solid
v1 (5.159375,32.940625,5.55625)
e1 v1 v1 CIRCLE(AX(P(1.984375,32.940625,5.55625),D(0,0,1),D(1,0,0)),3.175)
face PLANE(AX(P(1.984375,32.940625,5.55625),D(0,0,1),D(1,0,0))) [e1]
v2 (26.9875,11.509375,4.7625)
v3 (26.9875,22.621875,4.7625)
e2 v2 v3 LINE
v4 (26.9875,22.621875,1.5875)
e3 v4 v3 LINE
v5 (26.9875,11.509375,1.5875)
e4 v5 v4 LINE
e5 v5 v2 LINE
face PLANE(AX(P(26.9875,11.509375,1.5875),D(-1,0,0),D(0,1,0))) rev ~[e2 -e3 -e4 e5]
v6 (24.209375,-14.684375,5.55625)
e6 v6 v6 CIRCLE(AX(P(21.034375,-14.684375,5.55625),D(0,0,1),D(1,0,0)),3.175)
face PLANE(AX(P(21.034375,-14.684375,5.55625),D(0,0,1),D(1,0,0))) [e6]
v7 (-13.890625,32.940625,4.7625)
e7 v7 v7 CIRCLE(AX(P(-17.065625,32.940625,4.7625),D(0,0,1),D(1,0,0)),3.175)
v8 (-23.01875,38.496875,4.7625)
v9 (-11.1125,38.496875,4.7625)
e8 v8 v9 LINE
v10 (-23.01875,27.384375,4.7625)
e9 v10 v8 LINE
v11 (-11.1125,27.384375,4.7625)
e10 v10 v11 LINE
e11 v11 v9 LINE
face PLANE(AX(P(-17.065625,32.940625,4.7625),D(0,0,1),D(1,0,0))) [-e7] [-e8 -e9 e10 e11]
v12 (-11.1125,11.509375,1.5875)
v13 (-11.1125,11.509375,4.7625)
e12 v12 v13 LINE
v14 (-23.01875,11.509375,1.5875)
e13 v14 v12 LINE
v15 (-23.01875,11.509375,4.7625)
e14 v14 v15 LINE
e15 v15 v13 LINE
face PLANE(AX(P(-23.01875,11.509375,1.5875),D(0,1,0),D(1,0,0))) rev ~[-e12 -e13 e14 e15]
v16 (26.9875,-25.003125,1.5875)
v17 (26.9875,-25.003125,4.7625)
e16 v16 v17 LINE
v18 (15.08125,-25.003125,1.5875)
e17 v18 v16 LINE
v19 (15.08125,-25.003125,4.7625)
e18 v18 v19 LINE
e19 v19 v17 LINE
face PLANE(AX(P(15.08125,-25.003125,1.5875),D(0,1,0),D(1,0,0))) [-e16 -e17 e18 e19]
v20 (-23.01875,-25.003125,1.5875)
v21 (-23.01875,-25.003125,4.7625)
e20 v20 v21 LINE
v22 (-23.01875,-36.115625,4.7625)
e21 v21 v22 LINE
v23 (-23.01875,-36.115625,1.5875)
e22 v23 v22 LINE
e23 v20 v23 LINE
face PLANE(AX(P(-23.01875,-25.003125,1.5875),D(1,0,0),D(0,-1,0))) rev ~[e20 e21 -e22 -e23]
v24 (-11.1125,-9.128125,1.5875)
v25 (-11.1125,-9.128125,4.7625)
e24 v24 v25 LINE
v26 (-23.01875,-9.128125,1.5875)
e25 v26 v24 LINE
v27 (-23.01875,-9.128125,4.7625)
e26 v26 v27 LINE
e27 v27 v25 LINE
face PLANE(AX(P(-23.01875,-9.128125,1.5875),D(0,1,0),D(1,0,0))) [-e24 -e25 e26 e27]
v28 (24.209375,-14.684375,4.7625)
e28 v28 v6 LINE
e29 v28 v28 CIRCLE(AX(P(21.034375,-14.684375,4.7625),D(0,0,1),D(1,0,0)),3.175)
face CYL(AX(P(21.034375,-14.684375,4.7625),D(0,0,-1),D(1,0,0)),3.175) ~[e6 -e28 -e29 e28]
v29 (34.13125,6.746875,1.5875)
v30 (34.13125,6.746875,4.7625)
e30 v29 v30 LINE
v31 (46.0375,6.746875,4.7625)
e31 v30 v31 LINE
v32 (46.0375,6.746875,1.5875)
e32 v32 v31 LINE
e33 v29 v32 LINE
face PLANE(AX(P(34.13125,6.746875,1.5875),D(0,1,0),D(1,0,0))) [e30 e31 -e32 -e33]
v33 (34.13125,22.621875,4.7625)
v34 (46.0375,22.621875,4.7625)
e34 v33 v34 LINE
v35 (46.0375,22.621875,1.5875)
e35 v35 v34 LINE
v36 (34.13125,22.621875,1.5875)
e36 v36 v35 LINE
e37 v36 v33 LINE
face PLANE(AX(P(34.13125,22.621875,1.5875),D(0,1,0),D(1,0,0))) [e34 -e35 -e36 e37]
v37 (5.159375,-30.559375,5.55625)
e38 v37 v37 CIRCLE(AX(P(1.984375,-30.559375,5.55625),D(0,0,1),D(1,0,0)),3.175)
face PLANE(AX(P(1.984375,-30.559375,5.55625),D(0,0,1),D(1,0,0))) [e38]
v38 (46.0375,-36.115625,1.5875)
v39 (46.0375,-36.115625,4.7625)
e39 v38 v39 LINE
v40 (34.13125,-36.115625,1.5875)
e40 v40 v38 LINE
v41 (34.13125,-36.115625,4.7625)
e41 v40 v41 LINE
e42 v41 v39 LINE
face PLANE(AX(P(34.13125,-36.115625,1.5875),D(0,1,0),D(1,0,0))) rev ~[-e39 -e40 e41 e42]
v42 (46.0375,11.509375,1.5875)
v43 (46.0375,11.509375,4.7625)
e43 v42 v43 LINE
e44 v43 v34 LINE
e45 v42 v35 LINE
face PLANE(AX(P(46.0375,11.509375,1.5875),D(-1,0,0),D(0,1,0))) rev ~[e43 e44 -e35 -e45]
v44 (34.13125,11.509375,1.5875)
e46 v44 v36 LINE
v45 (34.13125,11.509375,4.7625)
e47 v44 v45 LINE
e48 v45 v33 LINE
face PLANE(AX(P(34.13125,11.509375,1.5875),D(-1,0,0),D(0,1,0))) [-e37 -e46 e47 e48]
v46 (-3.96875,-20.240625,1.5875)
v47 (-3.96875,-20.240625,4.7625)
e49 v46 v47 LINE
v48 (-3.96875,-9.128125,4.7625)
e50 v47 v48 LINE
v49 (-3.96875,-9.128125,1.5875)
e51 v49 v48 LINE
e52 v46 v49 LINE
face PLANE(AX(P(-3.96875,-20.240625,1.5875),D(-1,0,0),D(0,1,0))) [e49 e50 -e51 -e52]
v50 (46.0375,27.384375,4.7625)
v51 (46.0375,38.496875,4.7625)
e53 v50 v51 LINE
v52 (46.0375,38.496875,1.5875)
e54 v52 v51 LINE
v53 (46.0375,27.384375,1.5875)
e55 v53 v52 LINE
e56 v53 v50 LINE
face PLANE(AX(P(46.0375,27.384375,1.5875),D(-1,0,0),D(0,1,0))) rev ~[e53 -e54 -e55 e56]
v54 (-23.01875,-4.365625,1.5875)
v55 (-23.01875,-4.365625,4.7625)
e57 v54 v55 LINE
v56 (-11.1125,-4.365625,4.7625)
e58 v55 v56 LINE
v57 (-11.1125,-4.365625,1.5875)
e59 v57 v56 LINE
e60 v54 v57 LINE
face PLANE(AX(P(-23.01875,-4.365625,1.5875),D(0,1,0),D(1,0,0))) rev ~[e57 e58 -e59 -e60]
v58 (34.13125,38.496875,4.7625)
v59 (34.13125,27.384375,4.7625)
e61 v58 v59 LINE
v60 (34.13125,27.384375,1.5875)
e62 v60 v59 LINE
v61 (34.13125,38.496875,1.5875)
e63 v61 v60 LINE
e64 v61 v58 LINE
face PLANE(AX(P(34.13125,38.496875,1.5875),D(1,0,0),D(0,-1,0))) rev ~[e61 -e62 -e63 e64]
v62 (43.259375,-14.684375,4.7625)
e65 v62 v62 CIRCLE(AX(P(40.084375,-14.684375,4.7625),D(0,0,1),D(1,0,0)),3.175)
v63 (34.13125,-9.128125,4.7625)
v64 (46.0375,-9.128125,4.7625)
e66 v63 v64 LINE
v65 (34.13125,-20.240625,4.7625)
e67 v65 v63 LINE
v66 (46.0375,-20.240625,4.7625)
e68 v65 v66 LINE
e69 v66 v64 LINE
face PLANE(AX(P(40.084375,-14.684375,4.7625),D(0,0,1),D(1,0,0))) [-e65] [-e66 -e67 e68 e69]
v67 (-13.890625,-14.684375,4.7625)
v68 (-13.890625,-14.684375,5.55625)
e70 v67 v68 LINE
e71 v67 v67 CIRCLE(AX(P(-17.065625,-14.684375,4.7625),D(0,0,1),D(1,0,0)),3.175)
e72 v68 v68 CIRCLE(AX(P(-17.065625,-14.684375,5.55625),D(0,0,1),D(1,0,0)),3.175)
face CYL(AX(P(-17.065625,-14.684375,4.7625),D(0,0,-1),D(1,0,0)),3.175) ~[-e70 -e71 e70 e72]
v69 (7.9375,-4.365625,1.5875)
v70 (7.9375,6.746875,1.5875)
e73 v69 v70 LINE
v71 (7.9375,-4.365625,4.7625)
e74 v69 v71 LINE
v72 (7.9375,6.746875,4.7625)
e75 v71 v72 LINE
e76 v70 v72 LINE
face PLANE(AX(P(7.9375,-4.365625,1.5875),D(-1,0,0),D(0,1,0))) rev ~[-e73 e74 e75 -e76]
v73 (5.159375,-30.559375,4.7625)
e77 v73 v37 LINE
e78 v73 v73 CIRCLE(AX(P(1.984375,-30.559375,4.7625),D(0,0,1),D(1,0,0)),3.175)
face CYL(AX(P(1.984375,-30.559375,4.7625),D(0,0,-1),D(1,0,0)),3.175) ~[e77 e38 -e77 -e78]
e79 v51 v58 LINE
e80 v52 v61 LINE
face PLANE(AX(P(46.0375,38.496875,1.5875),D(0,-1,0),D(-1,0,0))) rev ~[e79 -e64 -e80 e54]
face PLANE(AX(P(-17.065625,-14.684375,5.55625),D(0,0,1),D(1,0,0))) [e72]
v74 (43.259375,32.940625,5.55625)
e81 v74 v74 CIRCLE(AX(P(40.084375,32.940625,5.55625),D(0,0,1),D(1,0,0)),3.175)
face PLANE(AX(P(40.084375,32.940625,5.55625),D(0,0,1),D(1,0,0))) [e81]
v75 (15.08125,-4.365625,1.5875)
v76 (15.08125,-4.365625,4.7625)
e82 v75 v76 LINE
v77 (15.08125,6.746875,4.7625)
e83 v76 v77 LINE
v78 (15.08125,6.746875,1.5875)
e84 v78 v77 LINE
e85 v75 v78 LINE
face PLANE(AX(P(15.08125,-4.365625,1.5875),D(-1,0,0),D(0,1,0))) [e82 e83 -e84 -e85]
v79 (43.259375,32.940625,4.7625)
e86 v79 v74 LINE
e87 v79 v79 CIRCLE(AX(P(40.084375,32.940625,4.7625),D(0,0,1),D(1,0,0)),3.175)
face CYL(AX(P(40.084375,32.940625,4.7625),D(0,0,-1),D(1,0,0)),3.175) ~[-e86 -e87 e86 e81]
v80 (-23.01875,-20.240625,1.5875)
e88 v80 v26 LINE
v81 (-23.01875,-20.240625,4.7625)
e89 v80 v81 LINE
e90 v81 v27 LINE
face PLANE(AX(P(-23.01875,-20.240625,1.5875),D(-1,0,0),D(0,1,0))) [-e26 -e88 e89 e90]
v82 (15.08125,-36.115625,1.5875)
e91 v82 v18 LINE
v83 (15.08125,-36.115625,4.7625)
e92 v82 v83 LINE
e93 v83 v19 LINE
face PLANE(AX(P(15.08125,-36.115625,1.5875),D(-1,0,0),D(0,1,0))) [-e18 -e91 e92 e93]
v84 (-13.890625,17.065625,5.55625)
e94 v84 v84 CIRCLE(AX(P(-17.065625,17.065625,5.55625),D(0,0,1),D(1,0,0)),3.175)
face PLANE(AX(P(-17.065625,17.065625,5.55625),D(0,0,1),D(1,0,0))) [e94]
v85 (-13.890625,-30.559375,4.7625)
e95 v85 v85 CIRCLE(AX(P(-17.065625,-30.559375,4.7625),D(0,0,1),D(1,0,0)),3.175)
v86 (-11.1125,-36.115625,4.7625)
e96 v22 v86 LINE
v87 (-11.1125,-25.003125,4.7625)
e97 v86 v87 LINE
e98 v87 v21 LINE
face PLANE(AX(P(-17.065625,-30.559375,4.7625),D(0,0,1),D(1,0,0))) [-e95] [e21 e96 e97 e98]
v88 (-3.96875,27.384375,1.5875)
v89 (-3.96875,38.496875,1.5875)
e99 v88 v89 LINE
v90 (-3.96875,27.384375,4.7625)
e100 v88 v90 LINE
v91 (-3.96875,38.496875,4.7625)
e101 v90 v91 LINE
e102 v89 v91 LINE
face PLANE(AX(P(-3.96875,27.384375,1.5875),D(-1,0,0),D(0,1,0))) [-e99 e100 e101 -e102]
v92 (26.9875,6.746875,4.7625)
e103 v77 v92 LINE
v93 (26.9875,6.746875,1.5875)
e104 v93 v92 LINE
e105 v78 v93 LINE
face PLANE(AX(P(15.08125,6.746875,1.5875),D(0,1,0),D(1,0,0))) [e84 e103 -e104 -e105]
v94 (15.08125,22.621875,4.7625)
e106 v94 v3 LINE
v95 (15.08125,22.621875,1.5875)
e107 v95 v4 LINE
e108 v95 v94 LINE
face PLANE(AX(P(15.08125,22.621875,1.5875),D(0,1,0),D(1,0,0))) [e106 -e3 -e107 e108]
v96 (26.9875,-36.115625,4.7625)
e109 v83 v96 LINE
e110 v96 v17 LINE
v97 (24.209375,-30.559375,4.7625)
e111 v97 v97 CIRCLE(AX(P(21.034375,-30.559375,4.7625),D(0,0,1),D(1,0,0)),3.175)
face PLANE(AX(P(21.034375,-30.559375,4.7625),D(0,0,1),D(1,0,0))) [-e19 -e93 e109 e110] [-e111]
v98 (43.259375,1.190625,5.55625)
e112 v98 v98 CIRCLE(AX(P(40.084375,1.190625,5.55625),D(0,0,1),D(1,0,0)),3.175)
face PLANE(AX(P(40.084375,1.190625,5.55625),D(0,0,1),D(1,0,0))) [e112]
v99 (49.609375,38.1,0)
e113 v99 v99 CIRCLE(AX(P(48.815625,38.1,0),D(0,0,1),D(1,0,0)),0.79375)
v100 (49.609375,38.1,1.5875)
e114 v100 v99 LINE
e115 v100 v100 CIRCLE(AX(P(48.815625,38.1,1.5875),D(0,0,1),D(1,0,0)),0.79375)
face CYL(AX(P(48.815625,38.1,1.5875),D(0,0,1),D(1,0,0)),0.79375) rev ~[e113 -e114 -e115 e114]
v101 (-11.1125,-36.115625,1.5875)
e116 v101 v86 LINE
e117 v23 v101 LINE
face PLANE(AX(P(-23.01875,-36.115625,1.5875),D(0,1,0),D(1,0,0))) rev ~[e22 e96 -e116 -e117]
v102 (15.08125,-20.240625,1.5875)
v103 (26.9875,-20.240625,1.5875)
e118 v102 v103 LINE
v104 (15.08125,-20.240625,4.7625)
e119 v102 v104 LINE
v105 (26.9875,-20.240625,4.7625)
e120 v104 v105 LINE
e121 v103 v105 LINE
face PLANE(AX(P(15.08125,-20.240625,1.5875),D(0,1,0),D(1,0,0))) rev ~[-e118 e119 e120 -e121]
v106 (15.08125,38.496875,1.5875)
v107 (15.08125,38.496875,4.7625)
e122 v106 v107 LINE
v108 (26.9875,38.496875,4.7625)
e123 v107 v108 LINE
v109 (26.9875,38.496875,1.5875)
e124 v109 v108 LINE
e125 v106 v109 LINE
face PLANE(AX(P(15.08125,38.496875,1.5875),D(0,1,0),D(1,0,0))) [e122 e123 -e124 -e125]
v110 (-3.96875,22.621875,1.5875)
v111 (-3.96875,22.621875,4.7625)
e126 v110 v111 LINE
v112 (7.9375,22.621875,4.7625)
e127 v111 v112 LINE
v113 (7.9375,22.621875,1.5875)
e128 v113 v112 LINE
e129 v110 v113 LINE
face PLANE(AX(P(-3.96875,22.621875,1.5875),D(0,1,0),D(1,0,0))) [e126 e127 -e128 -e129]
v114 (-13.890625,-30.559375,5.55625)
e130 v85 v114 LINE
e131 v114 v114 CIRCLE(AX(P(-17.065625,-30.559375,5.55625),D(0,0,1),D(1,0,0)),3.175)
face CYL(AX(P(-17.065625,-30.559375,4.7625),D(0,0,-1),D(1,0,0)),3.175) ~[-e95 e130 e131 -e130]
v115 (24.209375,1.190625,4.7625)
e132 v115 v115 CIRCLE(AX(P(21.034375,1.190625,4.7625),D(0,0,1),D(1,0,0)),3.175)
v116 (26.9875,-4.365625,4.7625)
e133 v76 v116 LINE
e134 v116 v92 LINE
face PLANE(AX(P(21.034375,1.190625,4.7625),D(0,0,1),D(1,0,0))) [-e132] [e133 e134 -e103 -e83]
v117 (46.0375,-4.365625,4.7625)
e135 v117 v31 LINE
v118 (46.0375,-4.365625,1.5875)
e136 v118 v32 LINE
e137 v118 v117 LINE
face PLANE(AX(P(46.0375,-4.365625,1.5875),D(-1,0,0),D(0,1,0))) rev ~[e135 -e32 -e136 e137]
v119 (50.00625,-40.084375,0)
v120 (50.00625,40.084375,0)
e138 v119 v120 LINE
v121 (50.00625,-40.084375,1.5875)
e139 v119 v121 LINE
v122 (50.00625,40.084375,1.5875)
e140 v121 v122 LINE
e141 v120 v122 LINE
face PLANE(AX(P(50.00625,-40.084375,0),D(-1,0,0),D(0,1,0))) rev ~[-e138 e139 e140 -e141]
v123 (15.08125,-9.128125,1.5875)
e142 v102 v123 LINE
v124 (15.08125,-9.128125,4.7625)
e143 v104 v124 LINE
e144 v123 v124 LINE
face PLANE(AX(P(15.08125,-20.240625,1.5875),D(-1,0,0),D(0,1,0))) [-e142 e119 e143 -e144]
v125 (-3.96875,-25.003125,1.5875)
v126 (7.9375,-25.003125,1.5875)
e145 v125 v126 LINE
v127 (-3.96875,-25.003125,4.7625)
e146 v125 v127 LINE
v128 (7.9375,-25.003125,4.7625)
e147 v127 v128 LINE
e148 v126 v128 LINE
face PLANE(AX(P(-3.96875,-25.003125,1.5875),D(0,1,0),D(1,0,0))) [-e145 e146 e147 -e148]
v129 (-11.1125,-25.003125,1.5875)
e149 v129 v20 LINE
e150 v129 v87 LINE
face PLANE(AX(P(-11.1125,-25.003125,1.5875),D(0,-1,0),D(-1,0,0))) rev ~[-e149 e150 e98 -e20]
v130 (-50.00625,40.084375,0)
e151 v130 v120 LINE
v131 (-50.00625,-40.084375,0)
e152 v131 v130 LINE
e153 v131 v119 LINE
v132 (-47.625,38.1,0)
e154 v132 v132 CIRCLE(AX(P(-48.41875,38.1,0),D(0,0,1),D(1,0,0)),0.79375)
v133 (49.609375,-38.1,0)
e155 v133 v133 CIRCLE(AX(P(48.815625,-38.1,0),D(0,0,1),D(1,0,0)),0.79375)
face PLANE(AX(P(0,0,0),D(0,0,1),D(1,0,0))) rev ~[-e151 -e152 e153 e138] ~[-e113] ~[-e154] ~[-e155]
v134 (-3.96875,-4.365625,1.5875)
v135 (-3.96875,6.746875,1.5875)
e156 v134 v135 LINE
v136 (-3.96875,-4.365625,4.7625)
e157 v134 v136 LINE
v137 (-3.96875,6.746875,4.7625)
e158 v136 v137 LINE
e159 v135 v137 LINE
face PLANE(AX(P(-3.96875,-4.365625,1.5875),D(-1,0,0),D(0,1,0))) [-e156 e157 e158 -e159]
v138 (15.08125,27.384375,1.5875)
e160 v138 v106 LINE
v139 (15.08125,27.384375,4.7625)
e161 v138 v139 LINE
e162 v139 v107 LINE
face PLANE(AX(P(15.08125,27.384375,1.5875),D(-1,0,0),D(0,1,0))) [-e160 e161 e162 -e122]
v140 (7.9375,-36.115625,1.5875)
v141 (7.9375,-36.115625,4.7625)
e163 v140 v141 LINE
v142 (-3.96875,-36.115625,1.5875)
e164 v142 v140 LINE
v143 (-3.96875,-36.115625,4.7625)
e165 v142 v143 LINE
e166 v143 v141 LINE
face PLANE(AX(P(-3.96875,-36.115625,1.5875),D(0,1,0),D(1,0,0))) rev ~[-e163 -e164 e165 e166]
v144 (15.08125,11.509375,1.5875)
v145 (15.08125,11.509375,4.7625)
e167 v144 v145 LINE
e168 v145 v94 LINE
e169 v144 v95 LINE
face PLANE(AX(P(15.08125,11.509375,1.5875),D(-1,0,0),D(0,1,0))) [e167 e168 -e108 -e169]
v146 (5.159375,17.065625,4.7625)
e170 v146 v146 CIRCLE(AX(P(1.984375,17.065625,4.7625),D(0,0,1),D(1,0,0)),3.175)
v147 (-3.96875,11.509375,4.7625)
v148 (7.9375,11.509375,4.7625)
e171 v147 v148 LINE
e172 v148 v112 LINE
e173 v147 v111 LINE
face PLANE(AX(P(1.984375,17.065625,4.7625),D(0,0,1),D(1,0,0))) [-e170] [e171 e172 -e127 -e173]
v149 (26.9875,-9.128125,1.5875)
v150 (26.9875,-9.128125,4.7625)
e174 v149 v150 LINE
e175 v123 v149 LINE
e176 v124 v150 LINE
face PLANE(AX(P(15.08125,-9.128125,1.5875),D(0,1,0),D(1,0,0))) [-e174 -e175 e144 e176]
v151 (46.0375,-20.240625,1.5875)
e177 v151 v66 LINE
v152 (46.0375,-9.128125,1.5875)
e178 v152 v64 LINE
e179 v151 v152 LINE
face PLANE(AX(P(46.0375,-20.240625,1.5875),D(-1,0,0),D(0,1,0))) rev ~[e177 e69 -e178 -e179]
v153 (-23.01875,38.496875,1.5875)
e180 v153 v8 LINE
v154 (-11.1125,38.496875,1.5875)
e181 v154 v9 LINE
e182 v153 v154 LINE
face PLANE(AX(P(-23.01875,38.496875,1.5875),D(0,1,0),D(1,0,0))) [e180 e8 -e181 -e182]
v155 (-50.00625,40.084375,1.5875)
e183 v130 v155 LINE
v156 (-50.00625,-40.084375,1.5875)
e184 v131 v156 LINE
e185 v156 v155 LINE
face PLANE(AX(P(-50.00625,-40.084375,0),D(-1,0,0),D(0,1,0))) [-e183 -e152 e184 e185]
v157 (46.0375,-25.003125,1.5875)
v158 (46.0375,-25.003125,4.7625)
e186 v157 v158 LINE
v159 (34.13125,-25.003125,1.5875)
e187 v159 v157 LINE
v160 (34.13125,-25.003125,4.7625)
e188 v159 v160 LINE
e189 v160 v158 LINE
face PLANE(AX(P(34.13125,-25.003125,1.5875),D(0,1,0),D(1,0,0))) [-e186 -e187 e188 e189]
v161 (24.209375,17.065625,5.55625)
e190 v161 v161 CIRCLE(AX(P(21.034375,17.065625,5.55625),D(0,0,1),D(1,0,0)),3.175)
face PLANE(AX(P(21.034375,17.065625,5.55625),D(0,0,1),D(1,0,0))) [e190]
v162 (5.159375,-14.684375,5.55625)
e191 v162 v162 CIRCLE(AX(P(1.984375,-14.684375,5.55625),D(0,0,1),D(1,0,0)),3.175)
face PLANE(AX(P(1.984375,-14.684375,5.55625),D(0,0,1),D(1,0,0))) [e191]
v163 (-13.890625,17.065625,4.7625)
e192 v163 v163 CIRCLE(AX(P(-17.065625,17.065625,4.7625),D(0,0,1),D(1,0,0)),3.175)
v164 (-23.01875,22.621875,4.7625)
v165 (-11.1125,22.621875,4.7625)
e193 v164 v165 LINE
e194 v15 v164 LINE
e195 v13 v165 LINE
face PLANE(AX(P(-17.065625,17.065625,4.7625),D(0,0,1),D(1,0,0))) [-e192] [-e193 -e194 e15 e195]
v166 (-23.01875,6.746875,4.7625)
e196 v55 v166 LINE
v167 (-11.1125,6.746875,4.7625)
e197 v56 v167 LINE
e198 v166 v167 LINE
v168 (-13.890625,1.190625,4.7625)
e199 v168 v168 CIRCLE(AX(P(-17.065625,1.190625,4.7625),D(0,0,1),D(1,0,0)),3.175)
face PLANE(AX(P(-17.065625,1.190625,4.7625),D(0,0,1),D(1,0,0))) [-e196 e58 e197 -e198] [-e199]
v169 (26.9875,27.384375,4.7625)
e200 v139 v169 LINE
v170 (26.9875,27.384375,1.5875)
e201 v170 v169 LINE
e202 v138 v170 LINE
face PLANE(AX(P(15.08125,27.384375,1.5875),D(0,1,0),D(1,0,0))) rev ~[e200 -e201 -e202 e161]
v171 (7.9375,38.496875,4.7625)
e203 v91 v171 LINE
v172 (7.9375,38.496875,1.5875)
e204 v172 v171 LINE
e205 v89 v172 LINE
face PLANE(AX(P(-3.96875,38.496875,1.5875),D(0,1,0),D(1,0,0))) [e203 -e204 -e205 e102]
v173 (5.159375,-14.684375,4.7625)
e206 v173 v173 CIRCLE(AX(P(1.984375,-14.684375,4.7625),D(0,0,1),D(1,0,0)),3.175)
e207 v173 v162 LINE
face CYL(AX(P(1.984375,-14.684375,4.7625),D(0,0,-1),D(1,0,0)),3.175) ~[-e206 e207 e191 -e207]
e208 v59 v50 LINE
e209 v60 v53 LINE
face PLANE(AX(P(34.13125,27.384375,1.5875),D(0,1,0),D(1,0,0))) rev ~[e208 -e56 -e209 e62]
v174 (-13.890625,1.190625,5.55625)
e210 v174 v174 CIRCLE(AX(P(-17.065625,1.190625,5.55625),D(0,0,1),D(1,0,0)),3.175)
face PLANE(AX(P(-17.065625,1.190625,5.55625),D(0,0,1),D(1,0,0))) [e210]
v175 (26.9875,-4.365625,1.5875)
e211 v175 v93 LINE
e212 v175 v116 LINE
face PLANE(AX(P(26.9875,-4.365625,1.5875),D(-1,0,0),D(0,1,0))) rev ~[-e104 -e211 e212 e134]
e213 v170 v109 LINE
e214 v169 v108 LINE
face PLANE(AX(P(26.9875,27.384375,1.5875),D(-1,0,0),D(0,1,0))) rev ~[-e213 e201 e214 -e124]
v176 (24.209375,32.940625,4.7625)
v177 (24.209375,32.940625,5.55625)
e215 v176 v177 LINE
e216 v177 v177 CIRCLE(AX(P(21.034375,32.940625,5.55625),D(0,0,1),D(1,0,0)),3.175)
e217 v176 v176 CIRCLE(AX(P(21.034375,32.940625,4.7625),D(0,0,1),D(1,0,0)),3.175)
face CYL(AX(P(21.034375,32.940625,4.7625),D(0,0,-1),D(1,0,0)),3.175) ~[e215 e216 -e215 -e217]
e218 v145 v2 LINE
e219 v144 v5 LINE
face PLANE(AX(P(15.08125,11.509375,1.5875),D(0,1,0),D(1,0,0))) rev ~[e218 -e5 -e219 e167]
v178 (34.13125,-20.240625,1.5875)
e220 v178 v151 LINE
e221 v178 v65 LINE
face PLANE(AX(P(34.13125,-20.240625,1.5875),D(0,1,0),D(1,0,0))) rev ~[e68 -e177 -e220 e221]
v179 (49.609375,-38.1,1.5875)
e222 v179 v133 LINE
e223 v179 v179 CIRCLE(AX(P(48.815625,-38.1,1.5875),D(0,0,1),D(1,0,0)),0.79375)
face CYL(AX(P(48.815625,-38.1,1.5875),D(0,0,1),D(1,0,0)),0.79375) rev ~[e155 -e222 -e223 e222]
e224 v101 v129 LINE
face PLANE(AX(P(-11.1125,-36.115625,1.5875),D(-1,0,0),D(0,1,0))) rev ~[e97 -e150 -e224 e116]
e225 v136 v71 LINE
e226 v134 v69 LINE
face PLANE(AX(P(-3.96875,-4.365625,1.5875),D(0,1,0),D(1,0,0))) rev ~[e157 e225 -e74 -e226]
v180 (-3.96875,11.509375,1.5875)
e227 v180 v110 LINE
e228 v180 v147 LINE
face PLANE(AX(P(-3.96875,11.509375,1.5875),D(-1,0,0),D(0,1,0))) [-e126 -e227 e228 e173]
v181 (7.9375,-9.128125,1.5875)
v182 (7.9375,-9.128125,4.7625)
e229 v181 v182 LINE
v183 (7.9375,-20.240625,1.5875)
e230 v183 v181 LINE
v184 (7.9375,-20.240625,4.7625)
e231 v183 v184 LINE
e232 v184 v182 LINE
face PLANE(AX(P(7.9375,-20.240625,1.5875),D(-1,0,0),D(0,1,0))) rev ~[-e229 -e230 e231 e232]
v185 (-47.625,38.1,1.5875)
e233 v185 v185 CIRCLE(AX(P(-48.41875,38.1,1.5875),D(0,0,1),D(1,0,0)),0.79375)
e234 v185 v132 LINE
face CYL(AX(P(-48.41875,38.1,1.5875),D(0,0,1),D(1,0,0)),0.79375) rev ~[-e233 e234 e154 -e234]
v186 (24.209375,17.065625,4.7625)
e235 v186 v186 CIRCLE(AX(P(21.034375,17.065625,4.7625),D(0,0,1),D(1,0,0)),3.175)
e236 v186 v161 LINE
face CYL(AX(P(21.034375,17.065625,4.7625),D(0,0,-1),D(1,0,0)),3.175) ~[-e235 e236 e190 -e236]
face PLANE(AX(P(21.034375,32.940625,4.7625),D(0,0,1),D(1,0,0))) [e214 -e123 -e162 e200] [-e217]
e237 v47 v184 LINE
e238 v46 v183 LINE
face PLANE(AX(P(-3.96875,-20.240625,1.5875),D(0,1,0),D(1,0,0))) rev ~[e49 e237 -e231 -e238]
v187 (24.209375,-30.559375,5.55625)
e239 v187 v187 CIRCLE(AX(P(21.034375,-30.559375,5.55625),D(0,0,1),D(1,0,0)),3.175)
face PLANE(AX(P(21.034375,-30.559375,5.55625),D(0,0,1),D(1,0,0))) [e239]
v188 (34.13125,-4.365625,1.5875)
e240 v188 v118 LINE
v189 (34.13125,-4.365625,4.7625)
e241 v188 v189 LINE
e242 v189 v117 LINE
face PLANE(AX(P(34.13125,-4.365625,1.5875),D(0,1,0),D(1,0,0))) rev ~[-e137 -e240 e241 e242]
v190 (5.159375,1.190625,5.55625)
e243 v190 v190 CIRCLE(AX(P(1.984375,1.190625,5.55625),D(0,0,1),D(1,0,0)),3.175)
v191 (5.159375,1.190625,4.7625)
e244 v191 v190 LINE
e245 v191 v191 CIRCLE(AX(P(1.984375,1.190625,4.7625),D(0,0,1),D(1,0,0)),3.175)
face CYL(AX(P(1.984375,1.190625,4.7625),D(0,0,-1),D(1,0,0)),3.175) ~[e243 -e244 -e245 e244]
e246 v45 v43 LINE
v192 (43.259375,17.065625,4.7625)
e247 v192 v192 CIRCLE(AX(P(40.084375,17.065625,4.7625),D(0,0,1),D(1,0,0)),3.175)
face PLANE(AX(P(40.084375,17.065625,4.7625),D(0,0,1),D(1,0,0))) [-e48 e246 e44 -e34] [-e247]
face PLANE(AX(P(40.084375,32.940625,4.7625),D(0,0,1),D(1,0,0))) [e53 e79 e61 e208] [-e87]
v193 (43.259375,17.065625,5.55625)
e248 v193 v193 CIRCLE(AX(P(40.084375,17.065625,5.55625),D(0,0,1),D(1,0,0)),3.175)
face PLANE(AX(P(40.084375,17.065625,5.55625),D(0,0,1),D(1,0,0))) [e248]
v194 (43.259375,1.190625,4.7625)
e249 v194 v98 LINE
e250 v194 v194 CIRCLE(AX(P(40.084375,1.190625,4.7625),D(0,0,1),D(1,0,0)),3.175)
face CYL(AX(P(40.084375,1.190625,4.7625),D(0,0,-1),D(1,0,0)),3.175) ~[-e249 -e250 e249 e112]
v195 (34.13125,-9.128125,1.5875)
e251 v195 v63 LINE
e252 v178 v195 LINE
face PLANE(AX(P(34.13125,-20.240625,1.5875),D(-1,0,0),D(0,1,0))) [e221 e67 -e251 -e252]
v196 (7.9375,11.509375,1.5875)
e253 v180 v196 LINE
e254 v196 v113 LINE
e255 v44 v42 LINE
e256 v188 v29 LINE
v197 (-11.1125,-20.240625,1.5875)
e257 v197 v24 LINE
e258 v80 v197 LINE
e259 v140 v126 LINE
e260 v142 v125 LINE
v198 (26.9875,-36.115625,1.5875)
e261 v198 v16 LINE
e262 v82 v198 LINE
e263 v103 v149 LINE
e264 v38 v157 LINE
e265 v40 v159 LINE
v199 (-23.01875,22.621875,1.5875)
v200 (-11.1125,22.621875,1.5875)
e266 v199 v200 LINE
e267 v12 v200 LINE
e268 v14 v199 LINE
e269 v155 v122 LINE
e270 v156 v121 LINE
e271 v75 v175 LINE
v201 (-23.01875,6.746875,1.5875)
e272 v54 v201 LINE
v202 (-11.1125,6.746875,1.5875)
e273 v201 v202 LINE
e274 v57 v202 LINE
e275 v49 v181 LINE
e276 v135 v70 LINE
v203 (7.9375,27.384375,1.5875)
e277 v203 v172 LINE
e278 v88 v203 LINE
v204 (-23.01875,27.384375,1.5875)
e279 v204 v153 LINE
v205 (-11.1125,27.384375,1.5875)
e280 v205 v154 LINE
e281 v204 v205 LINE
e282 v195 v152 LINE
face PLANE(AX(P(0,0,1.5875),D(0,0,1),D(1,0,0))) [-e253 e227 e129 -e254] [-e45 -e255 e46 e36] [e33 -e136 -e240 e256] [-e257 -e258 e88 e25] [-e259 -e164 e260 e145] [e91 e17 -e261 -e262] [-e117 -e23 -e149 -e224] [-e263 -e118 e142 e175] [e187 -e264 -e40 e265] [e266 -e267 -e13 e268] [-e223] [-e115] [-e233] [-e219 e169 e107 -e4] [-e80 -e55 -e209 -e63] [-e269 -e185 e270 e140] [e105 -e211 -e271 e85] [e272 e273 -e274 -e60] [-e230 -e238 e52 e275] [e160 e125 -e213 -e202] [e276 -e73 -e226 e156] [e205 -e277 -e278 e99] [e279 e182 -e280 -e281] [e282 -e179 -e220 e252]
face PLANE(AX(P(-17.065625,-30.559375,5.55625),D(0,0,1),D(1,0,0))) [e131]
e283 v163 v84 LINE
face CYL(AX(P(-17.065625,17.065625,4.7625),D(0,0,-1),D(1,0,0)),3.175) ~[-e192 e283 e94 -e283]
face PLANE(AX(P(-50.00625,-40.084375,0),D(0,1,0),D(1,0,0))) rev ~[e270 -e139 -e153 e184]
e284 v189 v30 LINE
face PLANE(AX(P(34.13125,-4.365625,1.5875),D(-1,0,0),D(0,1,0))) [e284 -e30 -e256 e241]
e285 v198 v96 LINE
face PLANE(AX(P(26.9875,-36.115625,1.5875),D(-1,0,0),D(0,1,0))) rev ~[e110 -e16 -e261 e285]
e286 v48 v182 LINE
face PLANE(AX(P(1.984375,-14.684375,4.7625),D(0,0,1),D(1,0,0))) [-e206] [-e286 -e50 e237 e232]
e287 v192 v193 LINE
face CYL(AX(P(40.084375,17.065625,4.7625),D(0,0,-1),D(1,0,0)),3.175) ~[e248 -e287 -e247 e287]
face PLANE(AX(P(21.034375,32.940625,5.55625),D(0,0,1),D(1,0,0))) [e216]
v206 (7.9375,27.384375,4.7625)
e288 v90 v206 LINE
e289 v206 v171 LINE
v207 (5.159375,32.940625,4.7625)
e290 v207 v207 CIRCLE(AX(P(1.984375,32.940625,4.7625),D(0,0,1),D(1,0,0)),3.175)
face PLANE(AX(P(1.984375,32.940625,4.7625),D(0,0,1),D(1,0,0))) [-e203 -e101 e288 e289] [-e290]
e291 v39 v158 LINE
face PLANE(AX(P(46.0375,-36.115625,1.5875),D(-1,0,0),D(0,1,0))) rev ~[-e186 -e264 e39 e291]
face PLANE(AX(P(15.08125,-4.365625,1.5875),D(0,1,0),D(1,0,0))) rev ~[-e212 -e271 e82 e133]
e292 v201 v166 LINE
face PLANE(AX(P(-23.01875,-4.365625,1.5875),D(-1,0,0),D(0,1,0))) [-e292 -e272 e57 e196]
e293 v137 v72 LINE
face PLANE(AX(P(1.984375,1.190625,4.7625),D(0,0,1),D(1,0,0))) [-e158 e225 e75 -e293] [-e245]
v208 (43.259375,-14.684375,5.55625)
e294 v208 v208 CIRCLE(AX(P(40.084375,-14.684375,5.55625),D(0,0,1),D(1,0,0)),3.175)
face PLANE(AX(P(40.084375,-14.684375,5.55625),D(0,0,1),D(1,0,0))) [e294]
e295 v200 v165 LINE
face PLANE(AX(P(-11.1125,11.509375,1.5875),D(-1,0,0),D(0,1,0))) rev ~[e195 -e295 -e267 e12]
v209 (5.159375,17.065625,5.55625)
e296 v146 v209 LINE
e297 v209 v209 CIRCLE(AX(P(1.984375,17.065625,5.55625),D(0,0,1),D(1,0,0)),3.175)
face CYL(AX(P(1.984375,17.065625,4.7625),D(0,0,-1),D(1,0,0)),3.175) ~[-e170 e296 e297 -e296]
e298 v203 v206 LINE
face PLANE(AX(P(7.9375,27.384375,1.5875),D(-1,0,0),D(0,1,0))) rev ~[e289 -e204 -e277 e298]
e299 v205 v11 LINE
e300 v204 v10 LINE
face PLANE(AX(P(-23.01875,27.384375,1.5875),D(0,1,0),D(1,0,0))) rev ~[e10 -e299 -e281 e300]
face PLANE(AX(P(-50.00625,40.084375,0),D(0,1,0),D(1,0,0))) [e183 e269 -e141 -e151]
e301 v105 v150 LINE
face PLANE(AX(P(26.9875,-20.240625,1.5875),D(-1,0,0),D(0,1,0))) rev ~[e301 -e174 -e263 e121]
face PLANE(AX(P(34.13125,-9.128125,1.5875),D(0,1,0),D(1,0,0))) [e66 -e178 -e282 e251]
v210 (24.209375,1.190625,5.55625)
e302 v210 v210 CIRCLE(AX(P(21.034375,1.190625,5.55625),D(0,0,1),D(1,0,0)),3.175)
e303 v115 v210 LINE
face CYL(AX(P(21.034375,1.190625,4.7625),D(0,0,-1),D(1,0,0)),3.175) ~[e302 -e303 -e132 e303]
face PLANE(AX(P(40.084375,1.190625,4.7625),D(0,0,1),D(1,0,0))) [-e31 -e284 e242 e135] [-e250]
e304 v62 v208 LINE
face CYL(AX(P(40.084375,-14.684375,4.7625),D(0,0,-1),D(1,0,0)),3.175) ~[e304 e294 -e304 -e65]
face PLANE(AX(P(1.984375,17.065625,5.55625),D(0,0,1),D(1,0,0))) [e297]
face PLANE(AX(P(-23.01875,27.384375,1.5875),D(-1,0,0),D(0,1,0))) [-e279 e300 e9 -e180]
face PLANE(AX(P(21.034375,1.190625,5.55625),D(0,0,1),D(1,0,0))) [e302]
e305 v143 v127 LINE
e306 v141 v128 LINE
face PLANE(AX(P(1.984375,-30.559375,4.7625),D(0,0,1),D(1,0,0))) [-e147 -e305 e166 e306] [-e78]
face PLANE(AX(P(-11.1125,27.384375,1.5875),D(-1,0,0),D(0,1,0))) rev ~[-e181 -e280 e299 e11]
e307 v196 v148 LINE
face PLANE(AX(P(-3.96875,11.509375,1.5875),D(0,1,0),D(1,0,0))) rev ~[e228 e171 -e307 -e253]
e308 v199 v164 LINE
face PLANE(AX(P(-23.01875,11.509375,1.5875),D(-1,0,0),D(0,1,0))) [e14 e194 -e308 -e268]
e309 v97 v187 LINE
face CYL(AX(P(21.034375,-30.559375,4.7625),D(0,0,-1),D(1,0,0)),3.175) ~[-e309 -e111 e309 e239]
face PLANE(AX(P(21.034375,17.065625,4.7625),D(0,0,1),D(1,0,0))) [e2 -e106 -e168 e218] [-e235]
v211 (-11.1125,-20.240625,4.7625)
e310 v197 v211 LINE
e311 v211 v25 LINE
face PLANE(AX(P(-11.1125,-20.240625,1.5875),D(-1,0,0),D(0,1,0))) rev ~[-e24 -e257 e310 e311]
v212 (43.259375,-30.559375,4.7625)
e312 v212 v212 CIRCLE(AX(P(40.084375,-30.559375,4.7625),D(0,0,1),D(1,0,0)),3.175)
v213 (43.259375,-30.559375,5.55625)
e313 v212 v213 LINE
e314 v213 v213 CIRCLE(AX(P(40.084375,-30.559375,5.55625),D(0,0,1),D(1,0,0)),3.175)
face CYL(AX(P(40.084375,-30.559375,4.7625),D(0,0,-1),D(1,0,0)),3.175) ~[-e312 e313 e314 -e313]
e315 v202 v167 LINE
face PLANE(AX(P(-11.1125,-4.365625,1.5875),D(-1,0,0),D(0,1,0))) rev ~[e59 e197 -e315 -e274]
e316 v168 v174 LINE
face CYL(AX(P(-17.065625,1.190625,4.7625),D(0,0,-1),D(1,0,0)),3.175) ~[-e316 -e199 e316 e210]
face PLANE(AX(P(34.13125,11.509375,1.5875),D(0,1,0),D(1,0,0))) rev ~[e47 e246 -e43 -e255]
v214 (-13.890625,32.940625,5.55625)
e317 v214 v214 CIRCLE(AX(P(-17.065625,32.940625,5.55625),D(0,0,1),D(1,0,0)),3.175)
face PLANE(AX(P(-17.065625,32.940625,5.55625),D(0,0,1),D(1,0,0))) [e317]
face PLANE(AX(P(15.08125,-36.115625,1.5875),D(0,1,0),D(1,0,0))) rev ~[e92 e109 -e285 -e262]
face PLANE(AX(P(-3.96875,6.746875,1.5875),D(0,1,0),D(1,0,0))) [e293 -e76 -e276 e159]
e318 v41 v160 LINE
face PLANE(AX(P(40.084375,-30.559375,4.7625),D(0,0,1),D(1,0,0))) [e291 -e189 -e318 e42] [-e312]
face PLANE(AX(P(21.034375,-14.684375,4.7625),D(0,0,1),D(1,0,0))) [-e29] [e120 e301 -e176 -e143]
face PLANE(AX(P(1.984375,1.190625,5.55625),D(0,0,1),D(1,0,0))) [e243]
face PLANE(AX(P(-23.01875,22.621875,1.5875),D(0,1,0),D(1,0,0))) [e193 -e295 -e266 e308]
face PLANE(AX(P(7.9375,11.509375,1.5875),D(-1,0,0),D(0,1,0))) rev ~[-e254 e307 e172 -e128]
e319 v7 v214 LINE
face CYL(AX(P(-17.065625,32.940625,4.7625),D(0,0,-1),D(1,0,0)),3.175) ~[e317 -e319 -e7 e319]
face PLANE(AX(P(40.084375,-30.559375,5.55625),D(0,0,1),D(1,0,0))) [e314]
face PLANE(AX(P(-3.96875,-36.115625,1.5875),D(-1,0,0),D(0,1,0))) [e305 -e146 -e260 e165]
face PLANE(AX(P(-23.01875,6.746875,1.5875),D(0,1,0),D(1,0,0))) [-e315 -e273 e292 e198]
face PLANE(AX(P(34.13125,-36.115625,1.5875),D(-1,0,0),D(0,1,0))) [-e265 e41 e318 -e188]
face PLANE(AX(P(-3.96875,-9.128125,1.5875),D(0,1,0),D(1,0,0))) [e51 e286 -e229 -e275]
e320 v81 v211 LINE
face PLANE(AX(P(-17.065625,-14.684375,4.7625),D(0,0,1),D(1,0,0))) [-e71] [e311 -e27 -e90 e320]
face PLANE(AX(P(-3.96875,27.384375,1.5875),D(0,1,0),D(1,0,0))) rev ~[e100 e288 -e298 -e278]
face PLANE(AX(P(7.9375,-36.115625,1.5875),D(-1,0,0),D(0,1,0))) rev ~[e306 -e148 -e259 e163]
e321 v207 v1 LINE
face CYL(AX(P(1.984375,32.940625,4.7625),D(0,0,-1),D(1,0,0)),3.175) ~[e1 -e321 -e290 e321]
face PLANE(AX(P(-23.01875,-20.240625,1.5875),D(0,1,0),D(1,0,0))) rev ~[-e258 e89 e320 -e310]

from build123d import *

# Parameters (mm, degrees)
F0_W     = 100.0125
F0_H     = 80.16875
F1_DEPTH = 1.5875
F2_W     = 11.90625
F2_H     = 11.1125
F3_DEPTH = 3.175
F4_R     = 3.175
F5_DEPTH = 0.79375
F6_R     = 0.79375
F7_DEPTH = 25.4


with BuildPart() as f1:
    # F0 (on Top) → F1 (new body)
    with BuildSketch(Plane.XY):
        Rectangle(F0_W, F0_H)
    extrude(amount=F1_DEPTH)

    # F2 (on face) → F3 (join)
    with BuildSketch(Plane.XY.offset(1.5875)):
        with Locations((-17.065625, 32.940625)):
            Rectangle(F2_W, F2_H)
        with Locations((1.984375, 32.940625)):
            Rectangle(F2_W, F2_H)
        with Locations((21.034375, 32.940625)):
            Rectangle(F2_W, F2_H)
        Polygon((46.0375, 38.496875), (40.075645, 38.496875), (34.13125, 38.496875), (34.13125, 27.384375), (46.0375, 27.384375), align=None)
        with Locations((40.084375, 17.065625)):
            Rectangle(F2_W, F2_H)
        with Locations((40.084375, 1.190625)):
            Rectangle(F2_W, F2_H)
        with Locations((40.084375, -14.684375)):
            Rectangle(F2_W, F2_H)
        with Locations((40.084375, -30.559375)):
            Rectangle(F2_W, F2_H)
        with Locations((21.034375, -30.559375)):
            Rectangle(F2_W, F2_H)
        with Locations((1.984375, -30.559375)):
            Rectangle(F2_W, F2_H)
        Polygon((-23.01875, -25.003125), (-23.01875, -30.146314), (-23.01875, -36.115625), (-11.1125, -36.115625), (-11.1125, -25.003125), align=None)
        with Locations((-17.065625, -14.684375)):
            Rectangle(F2_W, F2_H)
        with Locations((-17.065625, 1.190625)):
            Rectangle(F2_W, F2_H)
        with Locations((-17.065625, 17.065625)):
            Rectangle(F2_W, F2_H)
        with Locations((1.984375, 17.065625)):
            Rectangle(F2_W, F2_H)
        with Locations((21.034375, 17.065625)):
            Rectangle(F2_W, F2_H)
        with Locations((21.034375, 1.190625)):
            Rectangle(F2_W, F2_H)
        with Locations((1.984375, 1.190625)):
            Rectangle(F2_W, F2_H)
        with Locations((1.984375, -14.684375)):
            Rectangle(F2_W, F2_H)
        with Locations((21.034375, -14.684375)):
            Rectangle(F2_W, F2_H)
    extrude(amount=F3_DEPTH)

    # F4 (on face) → F5 (join)
    with BuildSketch(Plane.XY.offset(4.7625)):
        with Locations((40.084375, -30.559375)):
            Circle(F4_R)
        with Locations((40.084375, -14.684375)):
            Circle(F4_R)
        with Locations((40.084375, 1.190625)):
            Circle(F4_R)
        with Locations((40.084375, 17.065625)):
            Circle(F4_R)
        with Locations((40.084375, 32.940625)):
            Circle(F4_R)
        with Locations((21.034375, 32.940625)):
            Circle(F4_R)
        with Locations((21.034375, 17.065625)):
            Circle(F4_R)
        with Locations((21.034375, 1.190625)):
            Circle(F4_R)
        with Locations((21.034375, -14.684375)):
            Circle(F4_R)
        with Locations((21.034375, -30.559375)):
            Circle(F4_R)
        with Locations((1.984375, -30.559375)):
            Circle(F4_R)
        with Locations((1.984375, -14.684375)):
            Circle(F4_R)
        with Locations((1.984375, 1.190625)):
            Circle(F4_R)
        with Locations((1.984375, 17.065625)):
            Circle(F4_R)
        with Locations((1.984375, 32.940625)):
            Circle(F4_R)
        with Locations((-17.065625, 32.940625)):
            Circle(F4_R)
        with Locations((-17.065625, 17.065625)):
            Circle(F4_R)
        with Locations((-17.065625, 1.190625)):
            Circle(F4_R)
        with Locations((-17.065625, -14.684375)):
            Circle(F4_R)
        with Locations((-17.065625, -30.559375)):
            Circle(F4_R)
    extrude(amount=F5_DEPTH)

    # F6 (on face) → F7 (cut)
    with BuildSketch(Plane.XY.offset(1.5875)):
        with Locations((-48.41875, 38.1)):
            Circle(F6_R)
        with Locations((48.815625, 38.1)):
            Circle(F6_R)
        with Locations((48.815625, -38.1)):
            Circle(F6_R)
    extrude(amount=-F7_DEPTH, mode=Mode.SUBTRACT)


solid = f1.part
